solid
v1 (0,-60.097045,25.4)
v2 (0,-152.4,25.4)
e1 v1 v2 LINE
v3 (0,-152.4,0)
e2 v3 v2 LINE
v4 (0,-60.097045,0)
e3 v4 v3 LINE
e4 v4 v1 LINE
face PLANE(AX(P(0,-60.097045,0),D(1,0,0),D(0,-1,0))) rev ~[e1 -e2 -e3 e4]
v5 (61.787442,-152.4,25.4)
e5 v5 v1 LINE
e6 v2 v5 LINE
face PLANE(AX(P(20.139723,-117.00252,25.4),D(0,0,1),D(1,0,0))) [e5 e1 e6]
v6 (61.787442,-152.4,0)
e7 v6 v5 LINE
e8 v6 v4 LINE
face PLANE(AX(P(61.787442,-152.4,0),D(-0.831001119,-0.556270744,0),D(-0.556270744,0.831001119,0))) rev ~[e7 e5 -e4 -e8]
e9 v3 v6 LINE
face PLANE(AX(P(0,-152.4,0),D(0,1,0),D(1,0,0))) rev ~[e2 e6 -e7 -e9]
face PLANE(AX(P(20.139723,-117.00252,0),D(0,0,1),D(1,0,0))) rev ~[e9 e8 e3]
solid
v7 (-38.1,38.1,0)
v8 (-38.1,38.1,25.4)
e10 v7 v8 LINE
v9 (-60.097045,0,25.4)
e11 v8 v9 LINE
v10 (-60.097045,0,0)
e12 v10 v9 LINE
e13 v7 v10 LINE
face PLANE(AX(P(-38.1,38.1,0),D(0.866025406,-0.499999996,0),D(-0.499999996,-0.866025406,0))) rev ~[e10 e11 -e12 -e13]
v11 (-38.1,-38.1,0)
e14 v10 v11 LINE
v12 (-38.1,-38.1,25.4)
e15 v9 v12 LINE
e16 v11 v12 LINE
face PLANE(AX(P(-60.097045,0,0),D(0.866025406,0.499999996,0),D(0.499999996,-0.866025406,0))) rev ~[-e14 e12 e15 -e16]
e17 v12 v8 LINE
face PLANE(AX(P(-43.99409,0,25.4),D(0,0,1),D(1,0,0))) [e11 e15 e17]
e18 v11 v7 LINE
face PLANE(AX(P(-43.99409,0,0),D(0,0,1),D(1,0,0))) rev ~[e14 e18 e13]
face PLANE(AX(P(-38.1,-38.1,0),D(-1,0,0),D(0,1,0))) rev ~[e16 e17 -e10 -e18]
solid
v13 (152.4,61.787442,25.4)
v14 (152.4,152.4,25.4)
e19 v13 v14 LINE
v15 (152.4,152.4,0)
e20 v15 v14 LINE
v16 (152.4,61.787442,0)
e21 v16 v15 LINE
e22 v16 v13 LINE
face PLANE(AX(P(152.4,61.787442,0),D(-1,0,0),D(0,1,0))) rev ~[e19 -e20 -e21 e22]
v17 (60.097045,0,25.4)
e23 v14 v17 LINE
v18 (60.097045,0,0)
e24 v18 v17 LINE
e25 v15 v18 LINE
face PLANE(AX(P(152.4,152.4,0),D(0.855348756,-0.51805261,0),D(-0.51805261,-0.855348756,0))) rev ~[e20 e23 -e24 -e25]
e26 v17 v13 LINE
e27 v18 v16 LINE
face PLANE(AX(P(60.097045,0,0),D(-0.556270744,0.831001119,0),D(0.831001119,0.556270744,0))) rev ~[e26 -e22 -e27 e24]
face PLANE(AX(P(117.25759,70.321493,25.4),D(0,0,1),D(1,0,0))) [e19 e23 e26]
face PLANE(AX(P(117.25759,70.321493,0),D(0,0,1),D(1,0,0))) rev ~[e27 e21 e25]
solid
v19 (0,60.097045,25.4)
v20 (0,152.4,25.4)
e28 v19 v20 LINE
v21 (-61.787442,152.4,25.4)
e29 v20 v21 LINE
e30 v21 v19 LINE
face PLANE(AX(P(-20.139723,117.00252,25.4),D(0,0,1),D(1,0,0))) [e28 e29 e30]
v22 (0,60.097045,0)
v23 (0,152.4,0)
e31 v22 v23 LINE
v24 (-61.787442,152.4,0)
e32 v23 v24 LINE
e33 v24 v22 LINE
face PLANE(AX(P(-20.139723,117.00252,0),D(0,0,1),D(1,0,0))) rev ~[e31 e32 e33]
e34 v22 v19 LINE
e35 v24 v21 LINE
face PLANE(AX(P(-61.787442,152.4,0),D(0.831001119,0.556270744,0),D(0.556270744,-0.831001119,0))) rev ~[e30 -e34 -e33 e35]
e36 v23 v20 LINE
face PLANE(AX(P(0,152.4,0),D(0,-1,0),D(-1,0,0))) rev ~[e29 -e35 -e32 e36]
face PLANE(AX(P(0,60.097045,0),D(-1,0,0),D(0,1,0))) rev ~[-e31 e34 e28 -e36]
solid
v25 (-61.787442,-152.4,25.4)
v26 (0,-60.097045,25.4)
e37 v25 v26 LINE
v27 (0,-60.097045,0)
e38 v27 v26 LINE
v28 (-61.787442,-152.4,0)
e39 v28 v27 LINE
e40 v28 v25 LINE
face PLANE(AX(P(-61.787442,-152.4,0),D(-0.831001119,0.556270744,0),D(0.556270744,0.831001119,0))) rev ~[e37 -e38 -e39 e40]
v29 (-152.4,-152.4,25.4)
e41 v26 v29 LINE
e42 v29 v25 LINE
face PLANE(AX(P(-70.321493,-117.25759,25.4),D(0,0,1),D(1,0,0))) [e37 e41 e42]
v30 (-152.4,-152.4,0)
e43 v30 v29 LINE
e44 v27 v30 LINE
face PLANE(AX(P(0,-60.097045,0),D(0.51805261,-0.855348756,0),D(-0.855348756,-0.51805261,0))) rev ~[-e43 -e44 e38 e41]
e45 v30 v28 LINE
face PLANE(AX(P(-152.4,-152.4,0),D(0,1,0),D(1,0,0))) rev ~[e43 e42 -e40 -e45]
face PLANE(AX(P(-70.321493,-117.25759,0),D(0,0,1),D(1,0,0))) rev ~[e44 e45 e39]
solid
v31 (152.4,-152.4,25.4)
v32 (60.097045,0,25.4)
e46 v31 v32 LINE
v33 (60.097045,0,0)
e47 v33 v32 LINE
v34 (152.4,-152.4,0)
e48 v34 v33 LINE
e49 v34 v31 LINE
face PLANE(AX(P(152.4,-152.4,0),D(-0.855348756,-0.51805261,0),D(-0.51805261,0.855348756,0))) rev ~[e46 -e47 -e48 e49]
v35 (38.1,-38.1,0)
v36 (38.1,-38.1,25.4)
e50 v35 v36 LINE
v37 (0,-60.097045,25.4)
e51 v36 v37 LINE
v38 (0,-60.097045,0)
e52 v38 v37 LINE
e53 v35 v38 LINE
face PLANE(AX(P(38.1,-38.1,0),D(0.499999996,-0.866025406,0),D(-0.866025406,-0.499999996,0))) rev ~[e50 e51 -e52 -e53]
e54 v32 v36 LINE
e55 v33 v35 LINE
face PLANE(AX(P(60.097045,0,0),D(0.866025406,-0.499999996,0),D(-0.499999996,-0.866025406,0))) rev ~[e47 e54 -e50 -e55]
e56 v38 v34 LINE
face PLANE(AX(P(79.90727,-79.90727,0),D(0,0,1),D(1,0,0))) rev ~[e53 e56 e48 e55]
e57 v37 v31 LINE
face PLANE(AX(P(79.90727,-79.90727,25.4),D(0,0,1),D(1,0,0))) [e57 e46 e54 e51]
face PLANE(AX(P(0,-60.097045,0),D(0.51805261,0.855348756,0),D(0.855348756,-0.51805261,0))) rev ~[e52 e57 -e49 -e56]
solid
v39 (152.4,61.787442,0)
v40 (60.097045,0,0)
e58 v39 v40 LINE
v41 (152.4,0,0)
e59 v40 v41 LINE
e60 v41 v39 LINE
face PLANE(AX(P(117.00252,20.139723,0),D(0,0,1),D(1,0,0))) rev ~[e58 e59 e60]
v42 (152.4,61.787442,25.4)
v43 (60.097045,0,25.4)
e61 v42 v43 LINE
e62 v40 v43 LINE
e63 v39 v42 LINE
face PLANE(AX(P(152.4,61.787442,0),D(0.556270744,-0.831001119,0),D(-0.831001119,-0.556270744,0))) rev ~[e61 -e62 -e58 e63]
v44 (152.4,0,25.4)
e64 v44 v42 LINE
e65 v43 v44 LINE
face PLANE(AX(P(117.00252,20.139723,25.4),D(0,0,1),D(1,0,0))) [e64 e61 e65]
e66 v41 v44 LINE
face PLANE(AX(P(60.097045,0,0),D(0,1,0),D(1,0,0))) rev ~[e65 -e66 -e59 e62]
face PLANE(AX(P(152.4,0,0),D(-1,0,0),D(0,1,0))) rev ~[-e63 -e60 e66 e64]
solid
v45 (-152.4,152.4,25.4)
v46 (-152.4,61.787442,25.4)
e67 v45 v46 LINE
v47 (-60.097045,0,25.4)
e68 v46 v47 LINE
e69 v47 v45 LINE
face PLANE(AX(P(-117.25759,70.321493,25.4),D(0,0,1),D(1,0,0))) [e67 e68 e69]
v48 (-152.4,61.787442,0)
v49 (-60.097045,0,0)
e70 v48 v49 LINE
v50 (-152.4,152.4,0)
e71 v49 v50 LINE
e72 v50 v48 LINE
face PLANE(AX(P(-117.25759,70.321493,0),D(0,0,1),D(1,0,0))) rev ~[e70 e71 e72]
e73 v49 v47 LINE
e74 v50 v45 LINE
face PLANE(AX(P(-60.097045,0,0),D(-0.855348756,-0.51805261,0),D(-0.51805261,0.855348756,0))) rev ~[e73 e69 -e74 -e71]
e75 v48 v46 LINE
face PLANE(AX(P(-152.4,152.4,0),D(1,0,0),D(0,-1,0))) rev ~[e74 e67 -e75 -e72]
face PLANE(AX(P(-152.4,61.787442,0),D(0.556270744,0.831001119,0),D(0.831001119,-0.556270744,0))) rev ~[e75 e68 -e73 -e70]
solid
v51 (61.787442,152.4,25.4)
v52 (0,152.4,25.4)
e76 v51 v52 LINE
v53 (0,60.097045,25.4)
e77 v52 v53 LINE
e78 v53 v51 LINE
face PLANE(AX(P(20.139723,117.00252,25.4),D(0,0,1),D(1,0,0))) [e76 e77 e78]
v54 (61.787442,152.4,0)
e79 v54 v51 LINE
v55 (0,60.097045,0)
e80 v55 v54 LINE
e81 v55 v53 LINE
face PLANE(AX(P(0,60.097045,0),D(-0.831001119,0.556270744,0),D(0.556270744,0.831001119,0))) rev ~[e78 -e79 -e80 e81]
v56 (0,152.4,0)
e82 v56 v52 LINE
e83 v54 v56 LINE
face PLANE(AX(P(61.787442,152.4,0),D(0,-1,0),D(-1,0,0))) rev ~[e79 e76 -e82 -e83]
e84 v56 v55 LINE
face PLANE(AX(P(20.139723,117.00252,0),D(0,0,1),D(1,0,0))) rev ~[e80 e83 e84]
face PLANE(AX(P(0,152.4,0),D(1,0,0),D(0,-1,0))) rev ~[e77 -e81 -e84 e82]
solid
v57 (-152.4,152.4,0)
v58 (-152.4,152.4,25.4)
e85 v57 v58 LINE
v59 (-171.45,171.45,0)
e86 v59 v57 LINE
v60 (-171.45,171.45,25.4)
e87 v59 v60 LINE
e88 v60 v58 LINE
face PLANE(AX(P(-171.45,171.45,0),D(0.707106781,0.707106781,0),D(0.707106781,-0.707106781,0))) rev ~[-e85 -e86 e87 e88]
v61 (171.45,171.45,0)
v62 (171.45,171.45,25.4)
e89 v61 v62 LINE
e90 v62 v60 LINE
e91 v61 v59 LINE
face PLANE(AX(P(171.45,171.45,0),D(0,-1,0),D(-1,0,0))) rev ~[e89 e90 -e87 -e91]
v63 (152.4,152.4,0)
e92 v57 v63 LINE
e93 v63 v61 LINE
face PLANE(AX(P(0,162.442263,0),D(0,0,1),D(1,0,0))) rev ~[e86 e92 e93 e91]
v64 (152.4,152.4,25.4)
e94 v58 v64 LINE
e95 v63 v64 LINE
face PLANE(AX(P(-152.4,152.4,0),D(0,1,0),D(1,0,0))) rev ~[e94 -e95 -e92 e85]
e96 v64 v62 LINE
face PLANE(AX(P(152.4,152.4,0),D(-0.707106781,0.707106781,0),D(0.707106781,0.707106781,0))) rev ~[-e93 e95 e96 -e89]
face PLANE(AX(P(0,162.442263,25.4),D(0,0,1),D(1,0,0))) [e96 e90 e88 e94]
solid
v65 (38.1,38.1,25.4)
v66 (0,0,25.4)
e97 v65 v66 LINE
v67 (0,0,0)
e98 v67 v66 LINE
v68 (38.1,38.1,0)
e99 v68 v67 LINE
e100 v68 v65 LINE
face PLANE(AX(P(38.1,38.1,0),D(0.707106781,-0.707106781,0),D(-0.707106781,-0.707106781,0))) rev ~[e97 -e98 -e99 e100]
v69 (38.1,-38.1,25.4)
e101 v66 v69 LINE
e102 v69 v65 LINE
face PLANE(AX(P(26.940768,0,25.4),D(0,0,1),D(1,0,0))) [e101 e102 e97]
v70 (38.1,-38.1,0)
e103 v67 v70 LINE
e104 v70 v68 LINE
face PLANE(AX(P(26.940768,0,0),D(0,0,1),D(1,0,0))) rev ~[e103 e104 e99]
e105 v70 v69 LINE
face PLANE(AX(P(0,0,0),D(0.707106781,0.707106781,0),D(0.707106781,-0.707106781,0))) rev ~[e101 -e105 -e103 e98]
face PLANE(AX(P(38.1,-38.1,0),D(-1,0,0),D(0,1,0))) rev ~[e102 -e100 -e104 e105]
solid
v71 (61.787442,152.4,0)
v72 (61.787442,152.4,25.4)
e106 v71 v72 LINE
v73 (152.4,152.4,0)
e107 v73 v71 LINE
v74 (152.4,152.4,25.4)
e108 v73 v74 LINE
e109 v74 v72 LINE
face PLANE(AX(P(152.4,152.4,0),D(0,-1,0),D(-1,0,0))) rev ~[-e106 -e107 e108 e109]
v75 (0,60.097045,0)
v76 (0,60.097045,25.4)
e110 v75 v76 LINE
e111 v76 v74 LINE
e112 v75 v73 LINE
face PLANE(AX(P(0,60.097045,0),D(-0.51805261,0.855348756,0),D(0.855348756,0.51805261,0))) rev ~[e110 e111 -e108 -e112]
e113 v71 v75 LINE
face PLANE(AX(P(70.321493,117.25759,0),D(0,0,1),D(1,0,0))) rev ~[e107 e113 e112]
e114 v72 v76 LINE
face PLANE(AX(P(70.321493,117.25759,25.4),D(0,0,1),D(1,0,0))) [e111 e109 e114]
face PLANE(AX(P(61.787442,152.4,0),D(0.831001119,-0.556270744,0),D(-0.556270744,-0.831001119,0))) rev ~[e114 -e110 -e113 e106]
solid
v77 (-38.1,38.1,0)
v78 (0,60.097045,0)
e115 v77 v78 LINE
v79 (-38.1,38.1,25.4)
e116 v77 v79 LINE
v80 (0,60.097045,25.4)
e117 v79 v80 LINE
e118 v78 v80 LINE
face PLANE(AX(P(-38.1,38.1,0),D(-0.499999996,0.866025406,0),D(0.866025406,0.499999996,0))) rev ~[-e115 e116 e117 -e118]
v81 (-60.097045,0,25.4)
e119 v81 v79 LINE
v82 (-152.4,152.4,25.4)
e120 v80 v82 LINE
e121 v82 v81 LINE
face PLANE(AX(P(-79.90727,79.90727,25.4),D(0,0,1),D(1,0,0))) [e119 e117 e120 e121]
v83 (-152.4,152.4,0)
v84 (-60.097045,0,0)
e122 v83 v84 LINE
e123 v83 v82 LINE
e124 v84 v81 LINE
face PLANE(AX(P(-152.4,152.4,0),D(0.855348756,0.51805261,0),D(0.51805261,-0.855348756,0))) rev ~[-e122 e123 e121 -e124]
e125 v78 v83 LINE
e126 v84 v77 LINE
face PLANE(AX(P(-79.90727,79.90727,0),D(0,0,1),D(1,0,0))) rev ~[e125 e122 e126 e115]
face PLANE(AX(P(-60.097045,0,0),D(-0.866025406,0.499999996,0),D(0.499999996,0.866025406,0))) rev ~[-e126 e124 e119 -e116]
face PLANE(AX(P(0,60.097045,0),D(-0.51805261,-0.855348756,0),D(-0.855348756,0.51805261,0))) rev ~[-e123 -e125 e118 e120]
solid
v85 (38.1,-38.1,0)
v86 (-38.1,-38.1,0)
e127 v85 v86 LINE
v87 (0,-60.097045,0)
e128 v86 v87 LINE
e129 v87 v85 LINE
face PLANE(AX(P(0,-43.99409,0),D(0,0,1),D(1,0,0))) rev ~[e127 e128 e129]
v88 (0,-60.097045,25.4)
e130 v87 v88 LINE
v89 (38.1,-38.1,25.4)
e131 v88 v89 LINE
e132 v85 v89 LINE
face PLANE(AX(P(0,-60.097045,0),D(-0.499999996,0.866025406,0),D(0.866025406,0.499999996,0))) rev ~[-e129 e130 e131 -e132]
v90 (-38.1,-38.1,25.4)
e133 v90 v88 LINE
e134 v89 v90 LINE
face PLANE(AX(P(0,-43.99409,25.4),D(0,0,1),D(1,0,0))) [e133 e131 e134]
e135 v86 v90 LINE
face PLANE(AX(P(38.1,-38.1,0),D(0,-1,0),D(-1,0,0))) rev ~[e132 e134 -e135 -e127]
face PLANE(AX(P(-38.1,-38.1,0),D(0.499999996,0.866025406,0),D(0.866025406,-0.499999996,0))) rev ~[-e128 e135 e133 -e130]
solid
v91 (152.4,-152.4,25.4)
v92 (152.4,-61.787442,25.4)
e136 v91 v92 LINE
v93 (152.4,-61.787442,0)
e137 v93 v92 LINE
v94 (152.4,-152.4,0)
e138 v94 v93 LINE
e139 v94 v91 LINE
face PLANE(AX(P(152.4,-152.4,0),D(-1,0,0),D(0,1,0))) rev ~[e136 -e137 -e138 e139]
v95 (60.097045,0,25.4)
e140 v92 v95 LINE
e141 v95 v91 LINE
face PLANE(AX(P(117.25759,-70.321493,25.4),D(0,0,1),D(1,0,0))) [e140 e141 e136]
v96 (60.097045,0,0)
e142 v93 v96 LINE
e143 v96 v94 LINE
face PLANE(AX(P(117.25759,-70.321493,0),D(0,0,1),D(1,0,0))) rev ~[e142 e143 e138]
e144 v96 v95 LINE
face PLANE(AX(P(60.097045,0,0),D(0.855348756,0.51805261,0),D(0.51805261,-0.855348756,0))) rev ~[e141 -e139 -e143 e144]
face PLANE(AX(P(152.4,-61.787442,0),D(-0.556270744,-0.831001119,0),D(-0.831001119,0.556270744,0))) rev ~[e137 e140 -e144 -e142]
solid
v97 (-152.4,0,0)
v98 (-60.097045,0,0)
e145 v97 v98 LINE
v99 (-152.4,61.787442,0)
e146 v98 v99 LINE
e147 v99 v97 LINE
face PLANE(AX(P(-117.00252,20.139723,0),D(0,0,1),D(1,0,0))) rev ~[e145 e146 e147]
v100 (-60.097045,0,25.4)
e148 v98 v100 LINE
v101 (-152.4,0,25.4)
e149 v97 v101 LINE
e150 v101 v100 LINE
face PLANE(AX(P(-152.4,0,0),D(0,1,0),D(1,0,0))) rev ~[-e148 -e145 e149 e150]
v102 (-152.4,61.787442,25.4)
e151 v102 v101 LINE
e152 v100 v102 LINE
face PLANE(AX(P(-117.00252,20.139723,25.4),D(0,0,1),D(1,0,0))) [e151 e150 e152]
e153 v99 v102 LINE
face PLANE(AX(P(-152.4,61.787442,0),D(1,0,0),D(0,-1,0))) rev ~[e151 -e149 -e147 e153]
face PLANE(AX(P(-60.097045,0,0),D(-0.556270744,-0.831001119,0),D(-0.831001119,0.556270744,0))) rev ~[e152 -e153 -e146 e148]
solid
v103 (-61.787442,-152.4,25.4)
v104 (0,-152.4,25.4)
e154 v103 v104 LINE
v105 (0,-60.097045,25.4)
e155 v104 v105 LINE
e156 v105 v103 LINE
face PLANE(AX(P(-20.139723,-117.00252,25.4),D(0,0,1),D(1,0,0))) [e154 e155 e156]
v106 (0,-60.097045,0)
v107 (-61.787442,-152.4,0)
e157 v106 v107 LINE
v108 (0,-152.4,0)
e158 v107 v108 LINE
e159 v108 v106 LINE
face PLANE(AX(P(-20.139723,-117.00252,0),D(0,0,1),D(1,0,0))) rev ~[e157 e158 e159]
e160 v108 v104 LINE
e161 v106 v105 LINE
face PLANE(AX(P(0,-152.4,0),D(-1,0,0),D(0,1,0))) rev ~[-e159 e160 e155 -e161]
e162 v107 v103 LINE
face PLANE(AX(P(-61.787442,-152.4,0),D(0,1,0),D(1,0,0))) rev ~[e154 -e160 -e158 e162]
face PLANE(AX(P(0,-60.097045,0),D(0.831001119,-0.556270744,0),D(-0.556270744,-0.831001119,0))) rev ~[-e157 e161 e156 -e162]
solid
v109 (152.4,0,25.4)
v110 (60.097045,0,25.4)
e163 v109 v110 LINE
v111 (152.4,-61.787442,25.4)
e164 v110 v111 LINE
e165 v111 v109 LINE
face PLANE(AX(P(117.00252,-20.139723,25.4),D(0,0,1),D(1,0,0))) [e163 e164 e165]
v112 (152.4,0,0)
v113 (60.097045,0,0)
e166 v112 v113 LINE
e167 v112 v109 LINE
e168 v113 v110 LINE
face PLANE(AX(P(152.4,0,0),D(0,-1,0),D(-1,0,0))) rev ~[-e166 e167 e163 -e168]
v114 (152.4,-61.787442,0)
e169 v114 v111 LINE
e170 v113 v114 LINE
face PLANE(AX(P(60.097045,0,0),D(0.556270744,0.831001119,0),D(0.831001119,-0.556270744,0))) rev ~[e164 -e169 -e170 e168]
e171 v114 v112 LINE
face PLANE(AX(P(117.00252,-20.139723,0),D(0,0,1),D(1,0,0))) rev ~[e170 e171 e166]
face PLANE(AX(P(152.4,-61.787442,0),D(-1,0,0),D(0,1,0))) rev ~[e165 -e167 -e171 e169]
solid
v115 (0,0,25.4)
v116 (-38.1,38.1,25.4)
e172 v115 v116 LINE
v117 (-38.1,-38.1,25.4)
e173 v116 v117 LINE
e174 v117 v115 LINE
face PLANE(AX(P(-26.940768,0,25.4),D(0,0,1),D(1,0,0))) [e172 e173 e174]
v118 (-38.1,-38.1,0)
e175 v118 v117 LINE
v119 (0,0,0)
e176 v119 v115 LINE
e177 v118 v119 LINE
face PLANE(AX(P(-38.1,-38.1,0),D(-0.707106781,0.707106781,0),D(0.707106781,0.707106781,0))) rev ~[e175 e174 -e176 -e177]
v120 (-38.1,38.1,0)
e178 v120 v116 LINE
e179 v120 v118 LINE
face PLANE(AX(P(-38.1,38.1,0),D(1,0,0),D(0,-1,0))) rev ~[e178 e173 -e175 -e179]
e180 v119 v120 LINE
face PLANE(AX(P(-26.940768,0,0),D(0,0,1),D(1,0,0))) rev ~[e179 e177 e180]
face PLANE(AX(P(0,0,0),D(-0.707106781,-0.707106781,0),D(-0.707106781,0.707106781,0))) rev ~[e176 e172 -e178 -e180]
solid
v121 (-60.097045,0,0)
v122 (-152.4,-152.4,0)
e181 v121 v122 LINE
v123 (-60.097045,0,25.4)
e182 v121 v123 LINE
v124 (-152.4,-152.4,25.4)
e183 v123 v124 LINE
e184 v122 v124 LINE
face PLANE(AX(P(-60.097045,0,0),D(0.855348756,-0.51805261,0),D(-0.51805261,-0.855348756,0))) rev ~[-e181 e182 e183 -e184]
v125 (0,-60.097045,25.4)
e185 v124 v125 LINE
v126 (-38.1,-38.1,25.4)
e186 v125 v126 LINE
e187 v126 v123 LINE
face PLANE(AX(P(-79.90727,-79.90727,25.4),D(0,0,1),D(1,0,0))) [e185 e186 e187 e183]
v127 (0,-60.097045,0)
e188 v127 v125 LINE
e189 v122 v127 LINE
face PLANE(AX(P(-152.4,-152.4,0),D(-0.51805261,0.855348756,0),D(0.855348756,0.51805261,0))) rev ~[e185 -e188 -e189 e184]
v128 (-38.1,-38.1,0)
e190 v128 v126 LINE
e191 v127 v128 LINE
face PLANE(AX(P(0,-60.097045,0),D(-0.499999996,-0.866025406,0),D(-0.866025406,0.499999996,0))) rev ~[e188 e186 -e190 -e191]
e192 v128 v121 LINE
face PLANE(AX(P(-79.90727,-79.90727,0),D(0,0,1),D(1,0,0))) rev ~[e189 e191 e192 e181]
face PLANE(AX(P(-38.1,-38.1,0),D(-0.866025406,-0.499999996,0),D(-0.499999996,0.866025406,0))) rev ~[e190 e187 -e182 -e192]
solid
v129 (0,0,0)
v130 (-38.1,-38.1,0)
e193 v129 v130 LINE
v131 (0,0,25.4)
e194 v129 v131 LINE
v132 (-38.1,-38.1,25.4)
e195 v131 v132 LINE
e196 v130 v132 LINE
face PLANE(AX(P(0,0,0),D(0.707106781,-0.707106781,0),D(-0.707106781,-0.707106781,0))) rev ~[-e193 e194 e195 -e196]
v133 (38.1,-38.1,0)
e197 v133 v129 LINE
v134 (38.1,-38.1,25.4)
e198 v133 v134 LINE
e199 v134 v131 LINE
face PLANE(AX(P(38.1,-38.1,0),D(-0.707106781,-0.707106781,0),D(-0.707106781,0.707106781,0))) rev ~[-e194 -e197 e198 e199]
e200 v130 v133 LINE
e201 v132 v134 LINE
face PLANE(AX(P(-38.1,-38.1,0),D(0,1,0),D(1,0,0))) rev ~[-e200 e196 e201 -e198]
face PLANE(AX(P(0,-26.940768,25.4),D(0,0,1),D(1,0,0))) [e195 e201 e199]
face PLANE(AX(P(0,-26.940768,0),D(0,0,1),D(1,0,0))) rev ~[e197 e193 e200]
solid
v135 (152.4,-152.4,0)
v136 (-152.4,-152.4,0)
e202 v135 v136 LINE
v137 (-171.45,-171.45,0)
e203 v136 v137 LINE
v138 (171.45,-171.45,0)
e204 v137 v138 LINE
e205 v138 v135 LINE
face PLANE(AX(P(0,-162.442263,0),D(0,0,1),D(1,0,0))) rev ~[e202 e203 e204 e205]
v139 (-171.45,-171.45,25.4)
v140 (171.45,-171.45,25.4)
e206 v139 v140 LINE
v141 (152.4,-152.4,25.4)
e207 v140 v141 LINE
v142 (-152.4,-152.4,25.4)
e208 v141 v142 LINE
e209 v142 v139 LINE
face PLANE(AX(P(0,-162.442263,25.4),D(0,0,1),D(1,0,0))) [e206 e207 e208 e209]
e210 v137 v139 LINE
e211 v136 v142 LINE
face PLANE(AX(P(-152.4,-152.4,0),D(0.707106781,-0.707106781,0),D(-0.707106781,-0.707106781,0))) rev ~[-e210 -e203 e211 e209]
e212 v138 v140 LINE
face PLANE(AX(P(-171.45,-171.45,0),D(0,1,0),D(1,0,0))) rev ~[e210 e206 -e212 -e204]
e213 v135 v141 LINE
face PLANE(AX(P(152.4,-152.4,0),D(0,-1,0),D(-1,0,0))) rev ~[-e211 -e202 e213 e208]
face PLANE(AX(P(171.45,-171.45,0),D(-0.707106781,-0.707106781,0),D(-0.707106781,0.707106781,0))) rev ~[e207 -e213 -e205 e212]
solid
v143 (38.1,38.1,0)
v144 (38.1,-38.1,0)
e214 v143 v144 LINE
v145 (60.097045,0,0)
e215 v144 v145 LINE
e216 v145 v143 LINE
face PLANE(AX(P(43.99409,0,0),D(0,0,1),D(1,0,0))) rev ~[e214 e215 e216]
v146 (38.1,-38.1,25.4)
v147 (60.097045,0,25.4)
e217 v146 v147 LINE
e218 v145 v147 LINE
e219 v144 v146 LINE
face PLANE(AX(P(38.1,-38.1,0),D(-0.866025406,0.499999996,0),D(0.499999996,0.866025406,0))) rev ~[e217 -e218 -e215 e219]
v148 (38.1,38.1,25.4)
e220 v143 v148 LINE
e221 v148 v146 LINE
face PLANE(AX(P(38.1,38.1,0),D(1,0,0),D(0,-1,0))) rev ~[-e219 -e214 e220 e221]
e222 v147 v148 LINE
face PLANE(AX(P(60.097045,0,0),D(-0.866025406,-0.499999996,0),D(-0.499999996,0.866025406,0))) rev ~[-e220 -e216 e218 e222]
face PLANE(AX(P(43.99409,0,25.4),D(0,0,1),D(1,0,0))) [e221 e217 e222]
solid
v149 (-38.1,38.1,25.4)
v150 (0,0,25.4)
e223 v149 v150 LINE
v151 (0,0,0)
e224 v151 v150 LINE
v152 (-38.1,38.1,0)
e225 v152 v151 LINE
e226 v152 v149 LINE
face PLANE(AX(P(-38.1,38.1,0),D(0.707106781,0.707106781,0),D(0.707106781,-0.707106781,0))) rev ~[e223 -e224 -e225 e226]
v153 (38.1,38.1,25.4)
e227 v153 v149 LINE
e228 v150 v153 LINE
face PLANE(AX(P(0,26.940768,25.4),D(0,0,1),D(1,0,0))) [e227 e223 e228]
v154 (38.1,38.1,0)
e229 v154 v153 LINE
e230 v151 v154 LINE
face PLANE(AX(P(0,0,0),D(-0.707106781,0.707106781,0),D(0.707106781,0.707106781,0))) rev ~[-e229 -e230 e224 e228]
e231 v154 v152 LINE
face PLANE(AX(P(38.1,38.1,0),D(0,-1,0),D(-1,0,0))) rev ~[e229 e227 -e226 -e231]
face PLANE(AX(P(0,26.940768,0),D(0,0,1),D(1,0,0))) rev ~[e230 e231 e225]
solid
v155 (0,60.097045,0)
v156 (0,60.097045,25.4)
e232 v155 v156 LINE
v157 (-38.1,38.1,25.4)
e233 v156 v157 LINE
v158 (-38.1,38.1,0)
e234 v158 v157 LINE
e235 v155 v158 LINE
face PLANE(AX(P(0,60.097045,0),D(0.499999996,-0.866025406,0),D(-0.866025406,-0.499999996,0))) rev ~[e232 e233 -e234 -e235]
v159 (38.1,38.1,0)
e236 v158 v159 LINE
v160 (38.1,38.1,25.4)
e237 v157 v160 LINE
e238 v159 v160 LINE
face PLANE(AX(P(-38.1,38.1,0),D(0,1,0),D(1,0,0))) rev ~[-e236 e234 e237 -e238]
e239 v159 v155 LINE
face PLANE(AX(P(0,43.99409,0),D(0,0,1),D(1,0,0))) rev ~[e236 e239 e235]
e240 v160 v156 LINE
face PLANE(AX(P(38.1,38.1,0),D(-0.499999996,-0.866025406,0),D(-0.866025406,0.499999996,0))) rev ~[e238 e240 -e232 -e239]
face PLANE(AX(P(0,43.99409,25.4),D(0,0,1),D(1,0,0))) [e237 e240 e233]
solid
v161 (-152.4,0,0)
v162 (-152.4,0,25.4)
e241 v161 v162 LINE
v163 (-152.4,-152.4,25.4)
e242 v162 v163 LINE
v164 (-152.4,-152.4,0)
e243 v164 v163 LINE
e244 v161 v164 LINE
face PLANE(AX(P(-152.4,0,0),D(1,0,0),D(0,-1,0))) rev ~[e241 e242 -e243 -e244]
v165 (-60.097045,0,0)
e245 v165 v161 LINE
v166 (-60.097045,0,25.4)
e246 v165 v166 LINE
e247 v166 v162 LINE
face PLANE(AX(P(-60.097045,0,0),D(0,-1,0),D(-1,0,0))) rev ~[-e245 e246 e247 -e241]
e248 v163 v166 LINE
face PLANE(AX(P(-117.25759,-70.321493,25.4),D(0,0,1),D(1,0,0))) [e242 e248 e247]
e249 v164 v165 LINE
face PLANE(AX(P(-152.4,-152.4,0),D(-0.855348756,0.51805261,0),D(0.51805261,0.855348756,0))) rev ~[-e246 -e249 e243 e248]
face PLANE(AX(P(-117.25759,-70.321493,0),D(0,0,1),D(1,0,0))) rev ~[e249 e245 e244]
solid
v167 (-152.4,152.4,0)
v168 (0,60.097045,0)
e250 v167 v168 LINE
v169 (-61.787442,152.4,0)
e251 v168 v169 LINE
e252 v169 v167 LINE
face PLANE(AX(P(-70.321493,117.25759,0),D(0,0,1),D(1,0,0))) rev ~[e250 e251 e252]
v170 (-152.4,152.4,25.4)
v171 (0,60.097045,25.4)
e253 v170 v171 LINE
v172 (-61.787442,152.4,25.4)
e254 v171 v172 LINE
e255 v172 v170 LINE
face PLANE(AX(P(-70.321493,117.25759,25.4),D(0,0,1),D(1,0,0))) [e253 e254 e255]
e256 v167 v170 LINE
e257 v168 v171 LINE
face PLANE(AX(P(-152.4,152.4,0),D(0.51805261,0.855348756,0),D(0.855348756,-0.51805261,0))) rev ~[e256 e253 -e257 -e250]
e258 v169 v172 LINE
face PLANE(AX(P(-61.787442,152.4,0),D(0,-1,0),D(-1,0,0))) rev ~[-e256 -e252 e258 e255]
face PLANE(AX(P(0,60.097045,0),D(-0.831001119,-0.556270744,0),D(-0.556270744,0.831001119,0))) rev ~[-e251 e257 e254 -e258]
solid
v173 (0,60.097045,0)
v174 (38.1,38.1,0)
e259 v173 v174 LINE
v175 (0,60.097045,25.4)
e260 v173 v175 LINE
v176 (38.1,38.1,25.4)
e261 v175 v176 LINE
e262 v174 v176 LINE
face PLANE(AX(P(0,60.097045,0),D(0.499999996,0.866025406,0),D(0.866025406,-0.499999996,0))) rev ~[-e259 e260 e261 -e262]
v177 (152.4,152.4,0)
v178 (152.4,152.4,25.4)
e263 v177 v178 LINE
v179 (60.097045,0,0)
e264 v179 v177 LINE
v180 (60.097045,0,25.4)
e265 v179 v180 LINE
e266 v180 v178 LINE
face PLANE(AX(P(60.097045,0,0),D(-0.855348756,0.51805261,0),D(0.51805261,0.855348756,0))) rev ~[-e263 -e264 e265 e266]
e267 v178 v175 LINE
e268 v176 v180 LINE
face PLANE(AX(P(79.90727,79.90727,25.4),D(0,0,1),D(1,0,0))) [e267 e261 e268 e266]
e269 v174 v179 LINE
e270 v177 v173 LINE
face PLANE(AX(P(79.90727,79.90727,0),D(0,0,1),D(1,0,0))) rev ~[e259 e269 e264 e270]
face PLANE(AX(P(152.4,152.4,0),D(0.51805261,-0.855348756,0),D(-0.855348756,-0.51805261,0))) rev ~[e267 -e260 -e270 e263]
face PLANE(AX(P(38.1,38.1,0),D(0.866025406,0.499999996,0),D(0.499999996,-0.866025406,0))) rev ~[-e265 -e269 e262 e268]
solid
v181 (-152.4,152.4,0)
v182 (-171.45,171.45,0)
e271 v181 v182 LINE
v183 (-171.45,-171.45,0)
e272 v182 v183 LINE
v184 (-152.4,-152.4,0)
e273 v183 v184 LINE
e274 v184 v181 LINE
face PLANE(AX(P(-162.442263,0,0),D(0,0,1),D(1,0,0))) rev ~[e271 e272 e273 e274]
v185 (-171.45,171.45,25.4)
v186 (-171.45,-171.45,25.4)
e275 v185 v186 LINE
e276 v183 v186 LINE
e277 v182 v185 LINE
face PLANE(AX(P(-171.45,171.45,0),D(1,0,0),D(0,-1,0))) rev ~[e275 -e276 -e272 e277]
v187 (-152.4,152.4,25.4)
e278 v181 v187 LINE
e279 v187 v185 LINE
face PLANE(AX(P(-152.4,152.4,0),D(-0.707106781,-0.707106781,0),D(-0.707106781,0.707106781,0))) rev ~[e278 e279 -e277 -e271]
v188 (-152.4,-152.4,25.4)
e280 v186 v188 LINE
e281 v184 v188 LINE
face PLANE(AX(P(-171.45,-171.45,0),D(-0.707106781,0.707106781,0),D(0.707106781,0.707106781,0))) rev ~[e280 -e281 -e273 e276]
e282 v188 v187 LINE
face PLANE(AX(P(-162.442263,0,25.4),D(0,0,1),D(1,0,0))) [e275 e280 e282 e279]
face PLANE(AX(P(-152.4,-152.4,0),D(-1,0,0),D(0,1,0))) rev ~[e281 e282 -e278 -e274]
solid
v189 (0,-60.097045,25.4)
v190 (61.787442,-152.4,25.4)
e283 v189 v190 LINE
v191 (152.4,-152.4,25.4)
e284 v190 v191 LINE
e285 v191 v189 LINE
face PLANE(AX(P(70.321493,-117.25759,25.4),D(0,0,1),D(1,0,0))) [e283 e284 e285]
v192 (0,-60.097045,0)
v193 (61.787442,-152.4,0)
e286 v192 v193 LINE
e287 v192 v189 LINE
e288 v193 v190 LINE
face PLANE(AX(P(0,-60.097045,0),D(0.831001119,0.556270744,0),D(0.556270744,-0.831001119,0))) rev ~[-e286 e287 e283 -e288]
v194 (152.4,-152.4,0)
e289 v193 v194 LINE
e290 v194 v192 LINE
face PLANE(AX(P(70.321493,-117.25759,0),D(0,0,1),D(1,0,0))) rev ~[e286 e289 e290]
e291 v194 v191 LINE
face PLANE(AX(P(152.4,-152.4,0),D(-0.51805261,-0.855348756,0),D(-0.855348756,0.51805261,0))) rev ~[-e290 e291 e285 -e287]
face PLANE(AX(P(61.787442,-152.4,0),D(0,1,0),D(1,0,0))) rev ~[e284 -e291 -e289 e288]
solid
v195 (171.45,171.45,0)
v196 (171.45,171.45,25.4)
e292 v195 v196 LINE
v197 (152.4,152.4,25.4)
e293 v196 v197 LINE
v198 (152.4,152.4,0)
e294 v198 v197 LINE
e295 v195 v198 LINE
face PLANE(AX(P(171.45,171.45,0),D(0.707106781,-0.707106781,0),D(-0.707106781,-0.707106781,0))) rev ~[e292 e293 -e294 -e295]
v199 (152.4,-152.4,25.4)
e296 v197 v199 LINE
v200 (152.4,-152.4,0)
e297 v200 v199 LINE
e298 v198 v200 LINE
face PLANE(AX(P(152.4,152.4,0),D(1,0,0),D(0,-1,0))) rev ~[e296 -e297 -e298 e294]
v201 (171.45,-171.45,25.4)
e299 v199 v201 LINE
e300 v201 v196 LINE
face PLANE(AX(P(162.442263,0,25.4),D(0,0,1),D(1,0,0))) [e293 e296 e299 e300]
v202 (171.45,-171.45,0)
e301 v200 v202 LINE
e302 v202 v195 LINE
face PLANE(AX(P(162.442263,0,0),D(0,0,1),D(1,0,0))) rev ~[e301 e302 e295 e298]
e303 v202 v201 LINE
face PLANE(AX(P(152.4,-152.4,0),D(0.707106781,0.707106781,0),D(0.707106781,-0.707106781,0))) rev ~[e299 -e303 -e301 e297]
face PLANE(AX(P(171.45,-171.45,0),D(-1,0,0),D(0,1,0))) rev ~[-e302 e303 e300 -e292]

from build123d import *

# Parameters (mm, degrees)
F4_DEPTH  = 25.4
F5_DEPTH  = 25.4
F6_DEPTH  = 25.4
F7_DEPTH  = 25.4
F8_DEPTH  = 25.4
F9_DEPTH  = 25.4
F10_DEPTH = 25.4
F11_DEPTH = 25.4
F13_DEPTH = 25.4
F15_DEPTH = 25.4
F16_DEPTH = 25.4
F17_DEPTH = 25.4
F19_DEPTH = 25.4
F20_DEPTH = 25.4


with BuildPart() as f4:
    # F2 (on face) → F4 (new body)
    with BuildSketch(Plane.XY):
        Polygon((38.1, 38.1), (-38.1, 38.1), (0, 0), align=None)
    extrude(amount=F4_DEPTH)


with BuildPart() as f5:
    # F2 (on face) → F5 (new body)
    with BuildSketch(Plane.XY):
        Polygon((0, 0), (-38.1, 38.1), (-38.1, -38.1), align=None)
    extrude(amount=F5_DEPTH)


with BuildPart() as f6:
    # F2 (on face) → F6 (new body)
    with BuildSketch(Plane.XY):
        Polygon((0, 0), (-38.1, -38.1), (38.1, -38.1), align=None)
    extrude(amount=F6_DEPTH)


with BuildPart() as f7:
    # F2 (on face) → F7 (new body)
    with BuildSketch(Plane.XY):
        Polygon((38.1, -38.1), (38.1, 38.1), (0, 0), align=None)
    extrude(amount=F7_DEPTH)


with BuildPart() as f8:
    # F3 (on face) → F8 (new body)
    with BuildSketch(Plane.XY):
        Polygon((0, 60.097045), (-38.1, 38.1), (38.1, 38.1), align=None)
    extrude(amount=F8_DEPTH)


with BuildPart() as f9:
    # F3 (on face) → F9 (new body)
    with BuildSketch(Plane.XY):
        Polygon((-38.1, -38.1), (-38.1, 38.1), (-60.097045, 0), align=None)
    extrude(amount=F9_DEPTH)


with BuildPart() as f10:
    # F3 (on face) → F10 (new body)
    with BuildSketch(Plane.XY):
        Polygon((38.1, -38.1), (-38.1, -38.1), (0, -60.097045), align=None)
    extrude(amount=F10_DEPTH)


with BuildPart() as f11:
    # F3 (on face) → F11 (new body)
    with BuildSketch(Plane.XY):
        Polygon((60.097045, 0), (38.1, 38.1), (38.1, -38.1), align=None)
    extrude(amount=F11_DEPTH)


with BuildPart() as f13:
    # F12 (on face) → F13 (new body)
    with BuildSketch(Plane.XY):
        Polygon((-38.1, 38.1), (0, 60.097045), (-152.4, 152.4), (-60.097045, 0), align=None)
        Polygon((152.4, 152.4), (0, 60.097045), (38.1, 38.1), (60.097045, 0), align=None)
        Polygon((-38.1, -38.1), (-60.097045, 0), (-152.4, -152.4), (0, -60.097045), align=None)
        Polygon((152.4, -152.4), (60.097045, 0), (38.1, -38.1), (0, -60.097045), align=None)
    extrude(amount=F13_DEPTH)


with BuildPart() as f15:
    # F14 (on face) → F15 (new body)
    with BuildSketch(Plane.XY):
        Polygon((0, -60.097045), (-152.4, -152.4), (-61.787442, -152.4), align=None)
        Polygon((-60.097045, 0), (-152.4, 61.787442), (-152.4, 0), align=None)
        Polygon((-61.787442, 152.4), (-152.4, 152.4), (0, 60.097045), align=None)
        Polygon((0, 152.4), (0, 60.097045), (61.787442, 152.4), align=None)
        Polygon((152.4, 0), (152.4, 61.787442), (60.097045, 0), align=None)
        Polygon((152.4, -61.787442), (60.097045, 0), (152.4, -152.4), align=None)
        Polygon((152.4, -152.4), (0, -60.097045), (61.787442, -152.4), align=None)
    extrude(amount=F15_DEPTH)


with BuildPart() as f16:
    # F14 (on face) → F16 (new body)
    with BuildSketch(Plane.XY):
        Polygon((0, -60.097045), (-61.787442, -152.4), (0, -152.4), align=None)
        Polygon((-152.4, -152.4), (-60.097045, 0), (-152.4, -61.787442), align=None)
        Polygon((0, 152.4), (-61.787442, 152.4), (0, 60.097045), align=None)
        Polygon((152.4, 0), (60.097045, 0), (152.4, -61.787442), align=None)
        Polygon((152.4, 61.787442), (152.4, 152.4), (60.097045, 0), align=None)
        Polygon((61.787442, 152.4), (0, 60.097045), (152.4, 152.4), align=None)
        Polygon((-60.097045, 0), (-152.4, 152.4), (-152.4, 61.787442), align=None)
        Polygon((-152.4, -61.787442), (-60.097045, 0), (-152.4, 0), align=None)
    extrude(amount=F16_DEPTH)


with BuildPart() as f17:
    # F14 (on face) → F17 (new body)
    with BuildSketch(Plane.XY):
        Polygon((61.787442, -152.4), (0, -60.097045), (0, -152.4), align=None)
    extrude(amount=F17_DEPTH)


with BuildPart() as f19:
    # F18 (on face) → F19 (new body)
    with BuildSketch(Plane.XY):
        Polygon((-152.4, 61.787442), (-152.4, 152.4), (-171.45, 171.45), (-171.45, -171.45), (-152.4, -152.4), (-152.4, -61.787442), (-152.4, 0), align=None)
        Polygon((171.45, -171.45), (171.45, 171.45), (152.4, 152.4), (152.4, 61.787442), (152.4, 0), (152.4, -61.787442), (152.4, -152.4), align=None)
    extrude(amount=F19_DEPTH)


with BuildPart() as f20:
    # F18 (on face) → F20 (new body)
    with BuildSketch(Plane.XY):
        Polygon((-171.45, 171.45), (-152.4, 152.4), (-61.787442, 152.4), (0, 152.4), (61.787442, 152.4), (152.4, 152.4), (171.45, 171.45), align=None)
        Polygon((-152.4, -152.4), (-171.45, -171.45), (171.45, -171.45), (152.4, -152.4), (61.787442, -152.4), (0, -152.4), (-61.787442, -152.4), align=None)
    extrude(amount=F20_DEPTH)


solid = Compound([f4.part, f5.part, f6.part, f7.part, f8.part, f9.part, f10.part, f11.part, f13.part, f15.part, f16.part, f17.part, f19.part, f20.part])
